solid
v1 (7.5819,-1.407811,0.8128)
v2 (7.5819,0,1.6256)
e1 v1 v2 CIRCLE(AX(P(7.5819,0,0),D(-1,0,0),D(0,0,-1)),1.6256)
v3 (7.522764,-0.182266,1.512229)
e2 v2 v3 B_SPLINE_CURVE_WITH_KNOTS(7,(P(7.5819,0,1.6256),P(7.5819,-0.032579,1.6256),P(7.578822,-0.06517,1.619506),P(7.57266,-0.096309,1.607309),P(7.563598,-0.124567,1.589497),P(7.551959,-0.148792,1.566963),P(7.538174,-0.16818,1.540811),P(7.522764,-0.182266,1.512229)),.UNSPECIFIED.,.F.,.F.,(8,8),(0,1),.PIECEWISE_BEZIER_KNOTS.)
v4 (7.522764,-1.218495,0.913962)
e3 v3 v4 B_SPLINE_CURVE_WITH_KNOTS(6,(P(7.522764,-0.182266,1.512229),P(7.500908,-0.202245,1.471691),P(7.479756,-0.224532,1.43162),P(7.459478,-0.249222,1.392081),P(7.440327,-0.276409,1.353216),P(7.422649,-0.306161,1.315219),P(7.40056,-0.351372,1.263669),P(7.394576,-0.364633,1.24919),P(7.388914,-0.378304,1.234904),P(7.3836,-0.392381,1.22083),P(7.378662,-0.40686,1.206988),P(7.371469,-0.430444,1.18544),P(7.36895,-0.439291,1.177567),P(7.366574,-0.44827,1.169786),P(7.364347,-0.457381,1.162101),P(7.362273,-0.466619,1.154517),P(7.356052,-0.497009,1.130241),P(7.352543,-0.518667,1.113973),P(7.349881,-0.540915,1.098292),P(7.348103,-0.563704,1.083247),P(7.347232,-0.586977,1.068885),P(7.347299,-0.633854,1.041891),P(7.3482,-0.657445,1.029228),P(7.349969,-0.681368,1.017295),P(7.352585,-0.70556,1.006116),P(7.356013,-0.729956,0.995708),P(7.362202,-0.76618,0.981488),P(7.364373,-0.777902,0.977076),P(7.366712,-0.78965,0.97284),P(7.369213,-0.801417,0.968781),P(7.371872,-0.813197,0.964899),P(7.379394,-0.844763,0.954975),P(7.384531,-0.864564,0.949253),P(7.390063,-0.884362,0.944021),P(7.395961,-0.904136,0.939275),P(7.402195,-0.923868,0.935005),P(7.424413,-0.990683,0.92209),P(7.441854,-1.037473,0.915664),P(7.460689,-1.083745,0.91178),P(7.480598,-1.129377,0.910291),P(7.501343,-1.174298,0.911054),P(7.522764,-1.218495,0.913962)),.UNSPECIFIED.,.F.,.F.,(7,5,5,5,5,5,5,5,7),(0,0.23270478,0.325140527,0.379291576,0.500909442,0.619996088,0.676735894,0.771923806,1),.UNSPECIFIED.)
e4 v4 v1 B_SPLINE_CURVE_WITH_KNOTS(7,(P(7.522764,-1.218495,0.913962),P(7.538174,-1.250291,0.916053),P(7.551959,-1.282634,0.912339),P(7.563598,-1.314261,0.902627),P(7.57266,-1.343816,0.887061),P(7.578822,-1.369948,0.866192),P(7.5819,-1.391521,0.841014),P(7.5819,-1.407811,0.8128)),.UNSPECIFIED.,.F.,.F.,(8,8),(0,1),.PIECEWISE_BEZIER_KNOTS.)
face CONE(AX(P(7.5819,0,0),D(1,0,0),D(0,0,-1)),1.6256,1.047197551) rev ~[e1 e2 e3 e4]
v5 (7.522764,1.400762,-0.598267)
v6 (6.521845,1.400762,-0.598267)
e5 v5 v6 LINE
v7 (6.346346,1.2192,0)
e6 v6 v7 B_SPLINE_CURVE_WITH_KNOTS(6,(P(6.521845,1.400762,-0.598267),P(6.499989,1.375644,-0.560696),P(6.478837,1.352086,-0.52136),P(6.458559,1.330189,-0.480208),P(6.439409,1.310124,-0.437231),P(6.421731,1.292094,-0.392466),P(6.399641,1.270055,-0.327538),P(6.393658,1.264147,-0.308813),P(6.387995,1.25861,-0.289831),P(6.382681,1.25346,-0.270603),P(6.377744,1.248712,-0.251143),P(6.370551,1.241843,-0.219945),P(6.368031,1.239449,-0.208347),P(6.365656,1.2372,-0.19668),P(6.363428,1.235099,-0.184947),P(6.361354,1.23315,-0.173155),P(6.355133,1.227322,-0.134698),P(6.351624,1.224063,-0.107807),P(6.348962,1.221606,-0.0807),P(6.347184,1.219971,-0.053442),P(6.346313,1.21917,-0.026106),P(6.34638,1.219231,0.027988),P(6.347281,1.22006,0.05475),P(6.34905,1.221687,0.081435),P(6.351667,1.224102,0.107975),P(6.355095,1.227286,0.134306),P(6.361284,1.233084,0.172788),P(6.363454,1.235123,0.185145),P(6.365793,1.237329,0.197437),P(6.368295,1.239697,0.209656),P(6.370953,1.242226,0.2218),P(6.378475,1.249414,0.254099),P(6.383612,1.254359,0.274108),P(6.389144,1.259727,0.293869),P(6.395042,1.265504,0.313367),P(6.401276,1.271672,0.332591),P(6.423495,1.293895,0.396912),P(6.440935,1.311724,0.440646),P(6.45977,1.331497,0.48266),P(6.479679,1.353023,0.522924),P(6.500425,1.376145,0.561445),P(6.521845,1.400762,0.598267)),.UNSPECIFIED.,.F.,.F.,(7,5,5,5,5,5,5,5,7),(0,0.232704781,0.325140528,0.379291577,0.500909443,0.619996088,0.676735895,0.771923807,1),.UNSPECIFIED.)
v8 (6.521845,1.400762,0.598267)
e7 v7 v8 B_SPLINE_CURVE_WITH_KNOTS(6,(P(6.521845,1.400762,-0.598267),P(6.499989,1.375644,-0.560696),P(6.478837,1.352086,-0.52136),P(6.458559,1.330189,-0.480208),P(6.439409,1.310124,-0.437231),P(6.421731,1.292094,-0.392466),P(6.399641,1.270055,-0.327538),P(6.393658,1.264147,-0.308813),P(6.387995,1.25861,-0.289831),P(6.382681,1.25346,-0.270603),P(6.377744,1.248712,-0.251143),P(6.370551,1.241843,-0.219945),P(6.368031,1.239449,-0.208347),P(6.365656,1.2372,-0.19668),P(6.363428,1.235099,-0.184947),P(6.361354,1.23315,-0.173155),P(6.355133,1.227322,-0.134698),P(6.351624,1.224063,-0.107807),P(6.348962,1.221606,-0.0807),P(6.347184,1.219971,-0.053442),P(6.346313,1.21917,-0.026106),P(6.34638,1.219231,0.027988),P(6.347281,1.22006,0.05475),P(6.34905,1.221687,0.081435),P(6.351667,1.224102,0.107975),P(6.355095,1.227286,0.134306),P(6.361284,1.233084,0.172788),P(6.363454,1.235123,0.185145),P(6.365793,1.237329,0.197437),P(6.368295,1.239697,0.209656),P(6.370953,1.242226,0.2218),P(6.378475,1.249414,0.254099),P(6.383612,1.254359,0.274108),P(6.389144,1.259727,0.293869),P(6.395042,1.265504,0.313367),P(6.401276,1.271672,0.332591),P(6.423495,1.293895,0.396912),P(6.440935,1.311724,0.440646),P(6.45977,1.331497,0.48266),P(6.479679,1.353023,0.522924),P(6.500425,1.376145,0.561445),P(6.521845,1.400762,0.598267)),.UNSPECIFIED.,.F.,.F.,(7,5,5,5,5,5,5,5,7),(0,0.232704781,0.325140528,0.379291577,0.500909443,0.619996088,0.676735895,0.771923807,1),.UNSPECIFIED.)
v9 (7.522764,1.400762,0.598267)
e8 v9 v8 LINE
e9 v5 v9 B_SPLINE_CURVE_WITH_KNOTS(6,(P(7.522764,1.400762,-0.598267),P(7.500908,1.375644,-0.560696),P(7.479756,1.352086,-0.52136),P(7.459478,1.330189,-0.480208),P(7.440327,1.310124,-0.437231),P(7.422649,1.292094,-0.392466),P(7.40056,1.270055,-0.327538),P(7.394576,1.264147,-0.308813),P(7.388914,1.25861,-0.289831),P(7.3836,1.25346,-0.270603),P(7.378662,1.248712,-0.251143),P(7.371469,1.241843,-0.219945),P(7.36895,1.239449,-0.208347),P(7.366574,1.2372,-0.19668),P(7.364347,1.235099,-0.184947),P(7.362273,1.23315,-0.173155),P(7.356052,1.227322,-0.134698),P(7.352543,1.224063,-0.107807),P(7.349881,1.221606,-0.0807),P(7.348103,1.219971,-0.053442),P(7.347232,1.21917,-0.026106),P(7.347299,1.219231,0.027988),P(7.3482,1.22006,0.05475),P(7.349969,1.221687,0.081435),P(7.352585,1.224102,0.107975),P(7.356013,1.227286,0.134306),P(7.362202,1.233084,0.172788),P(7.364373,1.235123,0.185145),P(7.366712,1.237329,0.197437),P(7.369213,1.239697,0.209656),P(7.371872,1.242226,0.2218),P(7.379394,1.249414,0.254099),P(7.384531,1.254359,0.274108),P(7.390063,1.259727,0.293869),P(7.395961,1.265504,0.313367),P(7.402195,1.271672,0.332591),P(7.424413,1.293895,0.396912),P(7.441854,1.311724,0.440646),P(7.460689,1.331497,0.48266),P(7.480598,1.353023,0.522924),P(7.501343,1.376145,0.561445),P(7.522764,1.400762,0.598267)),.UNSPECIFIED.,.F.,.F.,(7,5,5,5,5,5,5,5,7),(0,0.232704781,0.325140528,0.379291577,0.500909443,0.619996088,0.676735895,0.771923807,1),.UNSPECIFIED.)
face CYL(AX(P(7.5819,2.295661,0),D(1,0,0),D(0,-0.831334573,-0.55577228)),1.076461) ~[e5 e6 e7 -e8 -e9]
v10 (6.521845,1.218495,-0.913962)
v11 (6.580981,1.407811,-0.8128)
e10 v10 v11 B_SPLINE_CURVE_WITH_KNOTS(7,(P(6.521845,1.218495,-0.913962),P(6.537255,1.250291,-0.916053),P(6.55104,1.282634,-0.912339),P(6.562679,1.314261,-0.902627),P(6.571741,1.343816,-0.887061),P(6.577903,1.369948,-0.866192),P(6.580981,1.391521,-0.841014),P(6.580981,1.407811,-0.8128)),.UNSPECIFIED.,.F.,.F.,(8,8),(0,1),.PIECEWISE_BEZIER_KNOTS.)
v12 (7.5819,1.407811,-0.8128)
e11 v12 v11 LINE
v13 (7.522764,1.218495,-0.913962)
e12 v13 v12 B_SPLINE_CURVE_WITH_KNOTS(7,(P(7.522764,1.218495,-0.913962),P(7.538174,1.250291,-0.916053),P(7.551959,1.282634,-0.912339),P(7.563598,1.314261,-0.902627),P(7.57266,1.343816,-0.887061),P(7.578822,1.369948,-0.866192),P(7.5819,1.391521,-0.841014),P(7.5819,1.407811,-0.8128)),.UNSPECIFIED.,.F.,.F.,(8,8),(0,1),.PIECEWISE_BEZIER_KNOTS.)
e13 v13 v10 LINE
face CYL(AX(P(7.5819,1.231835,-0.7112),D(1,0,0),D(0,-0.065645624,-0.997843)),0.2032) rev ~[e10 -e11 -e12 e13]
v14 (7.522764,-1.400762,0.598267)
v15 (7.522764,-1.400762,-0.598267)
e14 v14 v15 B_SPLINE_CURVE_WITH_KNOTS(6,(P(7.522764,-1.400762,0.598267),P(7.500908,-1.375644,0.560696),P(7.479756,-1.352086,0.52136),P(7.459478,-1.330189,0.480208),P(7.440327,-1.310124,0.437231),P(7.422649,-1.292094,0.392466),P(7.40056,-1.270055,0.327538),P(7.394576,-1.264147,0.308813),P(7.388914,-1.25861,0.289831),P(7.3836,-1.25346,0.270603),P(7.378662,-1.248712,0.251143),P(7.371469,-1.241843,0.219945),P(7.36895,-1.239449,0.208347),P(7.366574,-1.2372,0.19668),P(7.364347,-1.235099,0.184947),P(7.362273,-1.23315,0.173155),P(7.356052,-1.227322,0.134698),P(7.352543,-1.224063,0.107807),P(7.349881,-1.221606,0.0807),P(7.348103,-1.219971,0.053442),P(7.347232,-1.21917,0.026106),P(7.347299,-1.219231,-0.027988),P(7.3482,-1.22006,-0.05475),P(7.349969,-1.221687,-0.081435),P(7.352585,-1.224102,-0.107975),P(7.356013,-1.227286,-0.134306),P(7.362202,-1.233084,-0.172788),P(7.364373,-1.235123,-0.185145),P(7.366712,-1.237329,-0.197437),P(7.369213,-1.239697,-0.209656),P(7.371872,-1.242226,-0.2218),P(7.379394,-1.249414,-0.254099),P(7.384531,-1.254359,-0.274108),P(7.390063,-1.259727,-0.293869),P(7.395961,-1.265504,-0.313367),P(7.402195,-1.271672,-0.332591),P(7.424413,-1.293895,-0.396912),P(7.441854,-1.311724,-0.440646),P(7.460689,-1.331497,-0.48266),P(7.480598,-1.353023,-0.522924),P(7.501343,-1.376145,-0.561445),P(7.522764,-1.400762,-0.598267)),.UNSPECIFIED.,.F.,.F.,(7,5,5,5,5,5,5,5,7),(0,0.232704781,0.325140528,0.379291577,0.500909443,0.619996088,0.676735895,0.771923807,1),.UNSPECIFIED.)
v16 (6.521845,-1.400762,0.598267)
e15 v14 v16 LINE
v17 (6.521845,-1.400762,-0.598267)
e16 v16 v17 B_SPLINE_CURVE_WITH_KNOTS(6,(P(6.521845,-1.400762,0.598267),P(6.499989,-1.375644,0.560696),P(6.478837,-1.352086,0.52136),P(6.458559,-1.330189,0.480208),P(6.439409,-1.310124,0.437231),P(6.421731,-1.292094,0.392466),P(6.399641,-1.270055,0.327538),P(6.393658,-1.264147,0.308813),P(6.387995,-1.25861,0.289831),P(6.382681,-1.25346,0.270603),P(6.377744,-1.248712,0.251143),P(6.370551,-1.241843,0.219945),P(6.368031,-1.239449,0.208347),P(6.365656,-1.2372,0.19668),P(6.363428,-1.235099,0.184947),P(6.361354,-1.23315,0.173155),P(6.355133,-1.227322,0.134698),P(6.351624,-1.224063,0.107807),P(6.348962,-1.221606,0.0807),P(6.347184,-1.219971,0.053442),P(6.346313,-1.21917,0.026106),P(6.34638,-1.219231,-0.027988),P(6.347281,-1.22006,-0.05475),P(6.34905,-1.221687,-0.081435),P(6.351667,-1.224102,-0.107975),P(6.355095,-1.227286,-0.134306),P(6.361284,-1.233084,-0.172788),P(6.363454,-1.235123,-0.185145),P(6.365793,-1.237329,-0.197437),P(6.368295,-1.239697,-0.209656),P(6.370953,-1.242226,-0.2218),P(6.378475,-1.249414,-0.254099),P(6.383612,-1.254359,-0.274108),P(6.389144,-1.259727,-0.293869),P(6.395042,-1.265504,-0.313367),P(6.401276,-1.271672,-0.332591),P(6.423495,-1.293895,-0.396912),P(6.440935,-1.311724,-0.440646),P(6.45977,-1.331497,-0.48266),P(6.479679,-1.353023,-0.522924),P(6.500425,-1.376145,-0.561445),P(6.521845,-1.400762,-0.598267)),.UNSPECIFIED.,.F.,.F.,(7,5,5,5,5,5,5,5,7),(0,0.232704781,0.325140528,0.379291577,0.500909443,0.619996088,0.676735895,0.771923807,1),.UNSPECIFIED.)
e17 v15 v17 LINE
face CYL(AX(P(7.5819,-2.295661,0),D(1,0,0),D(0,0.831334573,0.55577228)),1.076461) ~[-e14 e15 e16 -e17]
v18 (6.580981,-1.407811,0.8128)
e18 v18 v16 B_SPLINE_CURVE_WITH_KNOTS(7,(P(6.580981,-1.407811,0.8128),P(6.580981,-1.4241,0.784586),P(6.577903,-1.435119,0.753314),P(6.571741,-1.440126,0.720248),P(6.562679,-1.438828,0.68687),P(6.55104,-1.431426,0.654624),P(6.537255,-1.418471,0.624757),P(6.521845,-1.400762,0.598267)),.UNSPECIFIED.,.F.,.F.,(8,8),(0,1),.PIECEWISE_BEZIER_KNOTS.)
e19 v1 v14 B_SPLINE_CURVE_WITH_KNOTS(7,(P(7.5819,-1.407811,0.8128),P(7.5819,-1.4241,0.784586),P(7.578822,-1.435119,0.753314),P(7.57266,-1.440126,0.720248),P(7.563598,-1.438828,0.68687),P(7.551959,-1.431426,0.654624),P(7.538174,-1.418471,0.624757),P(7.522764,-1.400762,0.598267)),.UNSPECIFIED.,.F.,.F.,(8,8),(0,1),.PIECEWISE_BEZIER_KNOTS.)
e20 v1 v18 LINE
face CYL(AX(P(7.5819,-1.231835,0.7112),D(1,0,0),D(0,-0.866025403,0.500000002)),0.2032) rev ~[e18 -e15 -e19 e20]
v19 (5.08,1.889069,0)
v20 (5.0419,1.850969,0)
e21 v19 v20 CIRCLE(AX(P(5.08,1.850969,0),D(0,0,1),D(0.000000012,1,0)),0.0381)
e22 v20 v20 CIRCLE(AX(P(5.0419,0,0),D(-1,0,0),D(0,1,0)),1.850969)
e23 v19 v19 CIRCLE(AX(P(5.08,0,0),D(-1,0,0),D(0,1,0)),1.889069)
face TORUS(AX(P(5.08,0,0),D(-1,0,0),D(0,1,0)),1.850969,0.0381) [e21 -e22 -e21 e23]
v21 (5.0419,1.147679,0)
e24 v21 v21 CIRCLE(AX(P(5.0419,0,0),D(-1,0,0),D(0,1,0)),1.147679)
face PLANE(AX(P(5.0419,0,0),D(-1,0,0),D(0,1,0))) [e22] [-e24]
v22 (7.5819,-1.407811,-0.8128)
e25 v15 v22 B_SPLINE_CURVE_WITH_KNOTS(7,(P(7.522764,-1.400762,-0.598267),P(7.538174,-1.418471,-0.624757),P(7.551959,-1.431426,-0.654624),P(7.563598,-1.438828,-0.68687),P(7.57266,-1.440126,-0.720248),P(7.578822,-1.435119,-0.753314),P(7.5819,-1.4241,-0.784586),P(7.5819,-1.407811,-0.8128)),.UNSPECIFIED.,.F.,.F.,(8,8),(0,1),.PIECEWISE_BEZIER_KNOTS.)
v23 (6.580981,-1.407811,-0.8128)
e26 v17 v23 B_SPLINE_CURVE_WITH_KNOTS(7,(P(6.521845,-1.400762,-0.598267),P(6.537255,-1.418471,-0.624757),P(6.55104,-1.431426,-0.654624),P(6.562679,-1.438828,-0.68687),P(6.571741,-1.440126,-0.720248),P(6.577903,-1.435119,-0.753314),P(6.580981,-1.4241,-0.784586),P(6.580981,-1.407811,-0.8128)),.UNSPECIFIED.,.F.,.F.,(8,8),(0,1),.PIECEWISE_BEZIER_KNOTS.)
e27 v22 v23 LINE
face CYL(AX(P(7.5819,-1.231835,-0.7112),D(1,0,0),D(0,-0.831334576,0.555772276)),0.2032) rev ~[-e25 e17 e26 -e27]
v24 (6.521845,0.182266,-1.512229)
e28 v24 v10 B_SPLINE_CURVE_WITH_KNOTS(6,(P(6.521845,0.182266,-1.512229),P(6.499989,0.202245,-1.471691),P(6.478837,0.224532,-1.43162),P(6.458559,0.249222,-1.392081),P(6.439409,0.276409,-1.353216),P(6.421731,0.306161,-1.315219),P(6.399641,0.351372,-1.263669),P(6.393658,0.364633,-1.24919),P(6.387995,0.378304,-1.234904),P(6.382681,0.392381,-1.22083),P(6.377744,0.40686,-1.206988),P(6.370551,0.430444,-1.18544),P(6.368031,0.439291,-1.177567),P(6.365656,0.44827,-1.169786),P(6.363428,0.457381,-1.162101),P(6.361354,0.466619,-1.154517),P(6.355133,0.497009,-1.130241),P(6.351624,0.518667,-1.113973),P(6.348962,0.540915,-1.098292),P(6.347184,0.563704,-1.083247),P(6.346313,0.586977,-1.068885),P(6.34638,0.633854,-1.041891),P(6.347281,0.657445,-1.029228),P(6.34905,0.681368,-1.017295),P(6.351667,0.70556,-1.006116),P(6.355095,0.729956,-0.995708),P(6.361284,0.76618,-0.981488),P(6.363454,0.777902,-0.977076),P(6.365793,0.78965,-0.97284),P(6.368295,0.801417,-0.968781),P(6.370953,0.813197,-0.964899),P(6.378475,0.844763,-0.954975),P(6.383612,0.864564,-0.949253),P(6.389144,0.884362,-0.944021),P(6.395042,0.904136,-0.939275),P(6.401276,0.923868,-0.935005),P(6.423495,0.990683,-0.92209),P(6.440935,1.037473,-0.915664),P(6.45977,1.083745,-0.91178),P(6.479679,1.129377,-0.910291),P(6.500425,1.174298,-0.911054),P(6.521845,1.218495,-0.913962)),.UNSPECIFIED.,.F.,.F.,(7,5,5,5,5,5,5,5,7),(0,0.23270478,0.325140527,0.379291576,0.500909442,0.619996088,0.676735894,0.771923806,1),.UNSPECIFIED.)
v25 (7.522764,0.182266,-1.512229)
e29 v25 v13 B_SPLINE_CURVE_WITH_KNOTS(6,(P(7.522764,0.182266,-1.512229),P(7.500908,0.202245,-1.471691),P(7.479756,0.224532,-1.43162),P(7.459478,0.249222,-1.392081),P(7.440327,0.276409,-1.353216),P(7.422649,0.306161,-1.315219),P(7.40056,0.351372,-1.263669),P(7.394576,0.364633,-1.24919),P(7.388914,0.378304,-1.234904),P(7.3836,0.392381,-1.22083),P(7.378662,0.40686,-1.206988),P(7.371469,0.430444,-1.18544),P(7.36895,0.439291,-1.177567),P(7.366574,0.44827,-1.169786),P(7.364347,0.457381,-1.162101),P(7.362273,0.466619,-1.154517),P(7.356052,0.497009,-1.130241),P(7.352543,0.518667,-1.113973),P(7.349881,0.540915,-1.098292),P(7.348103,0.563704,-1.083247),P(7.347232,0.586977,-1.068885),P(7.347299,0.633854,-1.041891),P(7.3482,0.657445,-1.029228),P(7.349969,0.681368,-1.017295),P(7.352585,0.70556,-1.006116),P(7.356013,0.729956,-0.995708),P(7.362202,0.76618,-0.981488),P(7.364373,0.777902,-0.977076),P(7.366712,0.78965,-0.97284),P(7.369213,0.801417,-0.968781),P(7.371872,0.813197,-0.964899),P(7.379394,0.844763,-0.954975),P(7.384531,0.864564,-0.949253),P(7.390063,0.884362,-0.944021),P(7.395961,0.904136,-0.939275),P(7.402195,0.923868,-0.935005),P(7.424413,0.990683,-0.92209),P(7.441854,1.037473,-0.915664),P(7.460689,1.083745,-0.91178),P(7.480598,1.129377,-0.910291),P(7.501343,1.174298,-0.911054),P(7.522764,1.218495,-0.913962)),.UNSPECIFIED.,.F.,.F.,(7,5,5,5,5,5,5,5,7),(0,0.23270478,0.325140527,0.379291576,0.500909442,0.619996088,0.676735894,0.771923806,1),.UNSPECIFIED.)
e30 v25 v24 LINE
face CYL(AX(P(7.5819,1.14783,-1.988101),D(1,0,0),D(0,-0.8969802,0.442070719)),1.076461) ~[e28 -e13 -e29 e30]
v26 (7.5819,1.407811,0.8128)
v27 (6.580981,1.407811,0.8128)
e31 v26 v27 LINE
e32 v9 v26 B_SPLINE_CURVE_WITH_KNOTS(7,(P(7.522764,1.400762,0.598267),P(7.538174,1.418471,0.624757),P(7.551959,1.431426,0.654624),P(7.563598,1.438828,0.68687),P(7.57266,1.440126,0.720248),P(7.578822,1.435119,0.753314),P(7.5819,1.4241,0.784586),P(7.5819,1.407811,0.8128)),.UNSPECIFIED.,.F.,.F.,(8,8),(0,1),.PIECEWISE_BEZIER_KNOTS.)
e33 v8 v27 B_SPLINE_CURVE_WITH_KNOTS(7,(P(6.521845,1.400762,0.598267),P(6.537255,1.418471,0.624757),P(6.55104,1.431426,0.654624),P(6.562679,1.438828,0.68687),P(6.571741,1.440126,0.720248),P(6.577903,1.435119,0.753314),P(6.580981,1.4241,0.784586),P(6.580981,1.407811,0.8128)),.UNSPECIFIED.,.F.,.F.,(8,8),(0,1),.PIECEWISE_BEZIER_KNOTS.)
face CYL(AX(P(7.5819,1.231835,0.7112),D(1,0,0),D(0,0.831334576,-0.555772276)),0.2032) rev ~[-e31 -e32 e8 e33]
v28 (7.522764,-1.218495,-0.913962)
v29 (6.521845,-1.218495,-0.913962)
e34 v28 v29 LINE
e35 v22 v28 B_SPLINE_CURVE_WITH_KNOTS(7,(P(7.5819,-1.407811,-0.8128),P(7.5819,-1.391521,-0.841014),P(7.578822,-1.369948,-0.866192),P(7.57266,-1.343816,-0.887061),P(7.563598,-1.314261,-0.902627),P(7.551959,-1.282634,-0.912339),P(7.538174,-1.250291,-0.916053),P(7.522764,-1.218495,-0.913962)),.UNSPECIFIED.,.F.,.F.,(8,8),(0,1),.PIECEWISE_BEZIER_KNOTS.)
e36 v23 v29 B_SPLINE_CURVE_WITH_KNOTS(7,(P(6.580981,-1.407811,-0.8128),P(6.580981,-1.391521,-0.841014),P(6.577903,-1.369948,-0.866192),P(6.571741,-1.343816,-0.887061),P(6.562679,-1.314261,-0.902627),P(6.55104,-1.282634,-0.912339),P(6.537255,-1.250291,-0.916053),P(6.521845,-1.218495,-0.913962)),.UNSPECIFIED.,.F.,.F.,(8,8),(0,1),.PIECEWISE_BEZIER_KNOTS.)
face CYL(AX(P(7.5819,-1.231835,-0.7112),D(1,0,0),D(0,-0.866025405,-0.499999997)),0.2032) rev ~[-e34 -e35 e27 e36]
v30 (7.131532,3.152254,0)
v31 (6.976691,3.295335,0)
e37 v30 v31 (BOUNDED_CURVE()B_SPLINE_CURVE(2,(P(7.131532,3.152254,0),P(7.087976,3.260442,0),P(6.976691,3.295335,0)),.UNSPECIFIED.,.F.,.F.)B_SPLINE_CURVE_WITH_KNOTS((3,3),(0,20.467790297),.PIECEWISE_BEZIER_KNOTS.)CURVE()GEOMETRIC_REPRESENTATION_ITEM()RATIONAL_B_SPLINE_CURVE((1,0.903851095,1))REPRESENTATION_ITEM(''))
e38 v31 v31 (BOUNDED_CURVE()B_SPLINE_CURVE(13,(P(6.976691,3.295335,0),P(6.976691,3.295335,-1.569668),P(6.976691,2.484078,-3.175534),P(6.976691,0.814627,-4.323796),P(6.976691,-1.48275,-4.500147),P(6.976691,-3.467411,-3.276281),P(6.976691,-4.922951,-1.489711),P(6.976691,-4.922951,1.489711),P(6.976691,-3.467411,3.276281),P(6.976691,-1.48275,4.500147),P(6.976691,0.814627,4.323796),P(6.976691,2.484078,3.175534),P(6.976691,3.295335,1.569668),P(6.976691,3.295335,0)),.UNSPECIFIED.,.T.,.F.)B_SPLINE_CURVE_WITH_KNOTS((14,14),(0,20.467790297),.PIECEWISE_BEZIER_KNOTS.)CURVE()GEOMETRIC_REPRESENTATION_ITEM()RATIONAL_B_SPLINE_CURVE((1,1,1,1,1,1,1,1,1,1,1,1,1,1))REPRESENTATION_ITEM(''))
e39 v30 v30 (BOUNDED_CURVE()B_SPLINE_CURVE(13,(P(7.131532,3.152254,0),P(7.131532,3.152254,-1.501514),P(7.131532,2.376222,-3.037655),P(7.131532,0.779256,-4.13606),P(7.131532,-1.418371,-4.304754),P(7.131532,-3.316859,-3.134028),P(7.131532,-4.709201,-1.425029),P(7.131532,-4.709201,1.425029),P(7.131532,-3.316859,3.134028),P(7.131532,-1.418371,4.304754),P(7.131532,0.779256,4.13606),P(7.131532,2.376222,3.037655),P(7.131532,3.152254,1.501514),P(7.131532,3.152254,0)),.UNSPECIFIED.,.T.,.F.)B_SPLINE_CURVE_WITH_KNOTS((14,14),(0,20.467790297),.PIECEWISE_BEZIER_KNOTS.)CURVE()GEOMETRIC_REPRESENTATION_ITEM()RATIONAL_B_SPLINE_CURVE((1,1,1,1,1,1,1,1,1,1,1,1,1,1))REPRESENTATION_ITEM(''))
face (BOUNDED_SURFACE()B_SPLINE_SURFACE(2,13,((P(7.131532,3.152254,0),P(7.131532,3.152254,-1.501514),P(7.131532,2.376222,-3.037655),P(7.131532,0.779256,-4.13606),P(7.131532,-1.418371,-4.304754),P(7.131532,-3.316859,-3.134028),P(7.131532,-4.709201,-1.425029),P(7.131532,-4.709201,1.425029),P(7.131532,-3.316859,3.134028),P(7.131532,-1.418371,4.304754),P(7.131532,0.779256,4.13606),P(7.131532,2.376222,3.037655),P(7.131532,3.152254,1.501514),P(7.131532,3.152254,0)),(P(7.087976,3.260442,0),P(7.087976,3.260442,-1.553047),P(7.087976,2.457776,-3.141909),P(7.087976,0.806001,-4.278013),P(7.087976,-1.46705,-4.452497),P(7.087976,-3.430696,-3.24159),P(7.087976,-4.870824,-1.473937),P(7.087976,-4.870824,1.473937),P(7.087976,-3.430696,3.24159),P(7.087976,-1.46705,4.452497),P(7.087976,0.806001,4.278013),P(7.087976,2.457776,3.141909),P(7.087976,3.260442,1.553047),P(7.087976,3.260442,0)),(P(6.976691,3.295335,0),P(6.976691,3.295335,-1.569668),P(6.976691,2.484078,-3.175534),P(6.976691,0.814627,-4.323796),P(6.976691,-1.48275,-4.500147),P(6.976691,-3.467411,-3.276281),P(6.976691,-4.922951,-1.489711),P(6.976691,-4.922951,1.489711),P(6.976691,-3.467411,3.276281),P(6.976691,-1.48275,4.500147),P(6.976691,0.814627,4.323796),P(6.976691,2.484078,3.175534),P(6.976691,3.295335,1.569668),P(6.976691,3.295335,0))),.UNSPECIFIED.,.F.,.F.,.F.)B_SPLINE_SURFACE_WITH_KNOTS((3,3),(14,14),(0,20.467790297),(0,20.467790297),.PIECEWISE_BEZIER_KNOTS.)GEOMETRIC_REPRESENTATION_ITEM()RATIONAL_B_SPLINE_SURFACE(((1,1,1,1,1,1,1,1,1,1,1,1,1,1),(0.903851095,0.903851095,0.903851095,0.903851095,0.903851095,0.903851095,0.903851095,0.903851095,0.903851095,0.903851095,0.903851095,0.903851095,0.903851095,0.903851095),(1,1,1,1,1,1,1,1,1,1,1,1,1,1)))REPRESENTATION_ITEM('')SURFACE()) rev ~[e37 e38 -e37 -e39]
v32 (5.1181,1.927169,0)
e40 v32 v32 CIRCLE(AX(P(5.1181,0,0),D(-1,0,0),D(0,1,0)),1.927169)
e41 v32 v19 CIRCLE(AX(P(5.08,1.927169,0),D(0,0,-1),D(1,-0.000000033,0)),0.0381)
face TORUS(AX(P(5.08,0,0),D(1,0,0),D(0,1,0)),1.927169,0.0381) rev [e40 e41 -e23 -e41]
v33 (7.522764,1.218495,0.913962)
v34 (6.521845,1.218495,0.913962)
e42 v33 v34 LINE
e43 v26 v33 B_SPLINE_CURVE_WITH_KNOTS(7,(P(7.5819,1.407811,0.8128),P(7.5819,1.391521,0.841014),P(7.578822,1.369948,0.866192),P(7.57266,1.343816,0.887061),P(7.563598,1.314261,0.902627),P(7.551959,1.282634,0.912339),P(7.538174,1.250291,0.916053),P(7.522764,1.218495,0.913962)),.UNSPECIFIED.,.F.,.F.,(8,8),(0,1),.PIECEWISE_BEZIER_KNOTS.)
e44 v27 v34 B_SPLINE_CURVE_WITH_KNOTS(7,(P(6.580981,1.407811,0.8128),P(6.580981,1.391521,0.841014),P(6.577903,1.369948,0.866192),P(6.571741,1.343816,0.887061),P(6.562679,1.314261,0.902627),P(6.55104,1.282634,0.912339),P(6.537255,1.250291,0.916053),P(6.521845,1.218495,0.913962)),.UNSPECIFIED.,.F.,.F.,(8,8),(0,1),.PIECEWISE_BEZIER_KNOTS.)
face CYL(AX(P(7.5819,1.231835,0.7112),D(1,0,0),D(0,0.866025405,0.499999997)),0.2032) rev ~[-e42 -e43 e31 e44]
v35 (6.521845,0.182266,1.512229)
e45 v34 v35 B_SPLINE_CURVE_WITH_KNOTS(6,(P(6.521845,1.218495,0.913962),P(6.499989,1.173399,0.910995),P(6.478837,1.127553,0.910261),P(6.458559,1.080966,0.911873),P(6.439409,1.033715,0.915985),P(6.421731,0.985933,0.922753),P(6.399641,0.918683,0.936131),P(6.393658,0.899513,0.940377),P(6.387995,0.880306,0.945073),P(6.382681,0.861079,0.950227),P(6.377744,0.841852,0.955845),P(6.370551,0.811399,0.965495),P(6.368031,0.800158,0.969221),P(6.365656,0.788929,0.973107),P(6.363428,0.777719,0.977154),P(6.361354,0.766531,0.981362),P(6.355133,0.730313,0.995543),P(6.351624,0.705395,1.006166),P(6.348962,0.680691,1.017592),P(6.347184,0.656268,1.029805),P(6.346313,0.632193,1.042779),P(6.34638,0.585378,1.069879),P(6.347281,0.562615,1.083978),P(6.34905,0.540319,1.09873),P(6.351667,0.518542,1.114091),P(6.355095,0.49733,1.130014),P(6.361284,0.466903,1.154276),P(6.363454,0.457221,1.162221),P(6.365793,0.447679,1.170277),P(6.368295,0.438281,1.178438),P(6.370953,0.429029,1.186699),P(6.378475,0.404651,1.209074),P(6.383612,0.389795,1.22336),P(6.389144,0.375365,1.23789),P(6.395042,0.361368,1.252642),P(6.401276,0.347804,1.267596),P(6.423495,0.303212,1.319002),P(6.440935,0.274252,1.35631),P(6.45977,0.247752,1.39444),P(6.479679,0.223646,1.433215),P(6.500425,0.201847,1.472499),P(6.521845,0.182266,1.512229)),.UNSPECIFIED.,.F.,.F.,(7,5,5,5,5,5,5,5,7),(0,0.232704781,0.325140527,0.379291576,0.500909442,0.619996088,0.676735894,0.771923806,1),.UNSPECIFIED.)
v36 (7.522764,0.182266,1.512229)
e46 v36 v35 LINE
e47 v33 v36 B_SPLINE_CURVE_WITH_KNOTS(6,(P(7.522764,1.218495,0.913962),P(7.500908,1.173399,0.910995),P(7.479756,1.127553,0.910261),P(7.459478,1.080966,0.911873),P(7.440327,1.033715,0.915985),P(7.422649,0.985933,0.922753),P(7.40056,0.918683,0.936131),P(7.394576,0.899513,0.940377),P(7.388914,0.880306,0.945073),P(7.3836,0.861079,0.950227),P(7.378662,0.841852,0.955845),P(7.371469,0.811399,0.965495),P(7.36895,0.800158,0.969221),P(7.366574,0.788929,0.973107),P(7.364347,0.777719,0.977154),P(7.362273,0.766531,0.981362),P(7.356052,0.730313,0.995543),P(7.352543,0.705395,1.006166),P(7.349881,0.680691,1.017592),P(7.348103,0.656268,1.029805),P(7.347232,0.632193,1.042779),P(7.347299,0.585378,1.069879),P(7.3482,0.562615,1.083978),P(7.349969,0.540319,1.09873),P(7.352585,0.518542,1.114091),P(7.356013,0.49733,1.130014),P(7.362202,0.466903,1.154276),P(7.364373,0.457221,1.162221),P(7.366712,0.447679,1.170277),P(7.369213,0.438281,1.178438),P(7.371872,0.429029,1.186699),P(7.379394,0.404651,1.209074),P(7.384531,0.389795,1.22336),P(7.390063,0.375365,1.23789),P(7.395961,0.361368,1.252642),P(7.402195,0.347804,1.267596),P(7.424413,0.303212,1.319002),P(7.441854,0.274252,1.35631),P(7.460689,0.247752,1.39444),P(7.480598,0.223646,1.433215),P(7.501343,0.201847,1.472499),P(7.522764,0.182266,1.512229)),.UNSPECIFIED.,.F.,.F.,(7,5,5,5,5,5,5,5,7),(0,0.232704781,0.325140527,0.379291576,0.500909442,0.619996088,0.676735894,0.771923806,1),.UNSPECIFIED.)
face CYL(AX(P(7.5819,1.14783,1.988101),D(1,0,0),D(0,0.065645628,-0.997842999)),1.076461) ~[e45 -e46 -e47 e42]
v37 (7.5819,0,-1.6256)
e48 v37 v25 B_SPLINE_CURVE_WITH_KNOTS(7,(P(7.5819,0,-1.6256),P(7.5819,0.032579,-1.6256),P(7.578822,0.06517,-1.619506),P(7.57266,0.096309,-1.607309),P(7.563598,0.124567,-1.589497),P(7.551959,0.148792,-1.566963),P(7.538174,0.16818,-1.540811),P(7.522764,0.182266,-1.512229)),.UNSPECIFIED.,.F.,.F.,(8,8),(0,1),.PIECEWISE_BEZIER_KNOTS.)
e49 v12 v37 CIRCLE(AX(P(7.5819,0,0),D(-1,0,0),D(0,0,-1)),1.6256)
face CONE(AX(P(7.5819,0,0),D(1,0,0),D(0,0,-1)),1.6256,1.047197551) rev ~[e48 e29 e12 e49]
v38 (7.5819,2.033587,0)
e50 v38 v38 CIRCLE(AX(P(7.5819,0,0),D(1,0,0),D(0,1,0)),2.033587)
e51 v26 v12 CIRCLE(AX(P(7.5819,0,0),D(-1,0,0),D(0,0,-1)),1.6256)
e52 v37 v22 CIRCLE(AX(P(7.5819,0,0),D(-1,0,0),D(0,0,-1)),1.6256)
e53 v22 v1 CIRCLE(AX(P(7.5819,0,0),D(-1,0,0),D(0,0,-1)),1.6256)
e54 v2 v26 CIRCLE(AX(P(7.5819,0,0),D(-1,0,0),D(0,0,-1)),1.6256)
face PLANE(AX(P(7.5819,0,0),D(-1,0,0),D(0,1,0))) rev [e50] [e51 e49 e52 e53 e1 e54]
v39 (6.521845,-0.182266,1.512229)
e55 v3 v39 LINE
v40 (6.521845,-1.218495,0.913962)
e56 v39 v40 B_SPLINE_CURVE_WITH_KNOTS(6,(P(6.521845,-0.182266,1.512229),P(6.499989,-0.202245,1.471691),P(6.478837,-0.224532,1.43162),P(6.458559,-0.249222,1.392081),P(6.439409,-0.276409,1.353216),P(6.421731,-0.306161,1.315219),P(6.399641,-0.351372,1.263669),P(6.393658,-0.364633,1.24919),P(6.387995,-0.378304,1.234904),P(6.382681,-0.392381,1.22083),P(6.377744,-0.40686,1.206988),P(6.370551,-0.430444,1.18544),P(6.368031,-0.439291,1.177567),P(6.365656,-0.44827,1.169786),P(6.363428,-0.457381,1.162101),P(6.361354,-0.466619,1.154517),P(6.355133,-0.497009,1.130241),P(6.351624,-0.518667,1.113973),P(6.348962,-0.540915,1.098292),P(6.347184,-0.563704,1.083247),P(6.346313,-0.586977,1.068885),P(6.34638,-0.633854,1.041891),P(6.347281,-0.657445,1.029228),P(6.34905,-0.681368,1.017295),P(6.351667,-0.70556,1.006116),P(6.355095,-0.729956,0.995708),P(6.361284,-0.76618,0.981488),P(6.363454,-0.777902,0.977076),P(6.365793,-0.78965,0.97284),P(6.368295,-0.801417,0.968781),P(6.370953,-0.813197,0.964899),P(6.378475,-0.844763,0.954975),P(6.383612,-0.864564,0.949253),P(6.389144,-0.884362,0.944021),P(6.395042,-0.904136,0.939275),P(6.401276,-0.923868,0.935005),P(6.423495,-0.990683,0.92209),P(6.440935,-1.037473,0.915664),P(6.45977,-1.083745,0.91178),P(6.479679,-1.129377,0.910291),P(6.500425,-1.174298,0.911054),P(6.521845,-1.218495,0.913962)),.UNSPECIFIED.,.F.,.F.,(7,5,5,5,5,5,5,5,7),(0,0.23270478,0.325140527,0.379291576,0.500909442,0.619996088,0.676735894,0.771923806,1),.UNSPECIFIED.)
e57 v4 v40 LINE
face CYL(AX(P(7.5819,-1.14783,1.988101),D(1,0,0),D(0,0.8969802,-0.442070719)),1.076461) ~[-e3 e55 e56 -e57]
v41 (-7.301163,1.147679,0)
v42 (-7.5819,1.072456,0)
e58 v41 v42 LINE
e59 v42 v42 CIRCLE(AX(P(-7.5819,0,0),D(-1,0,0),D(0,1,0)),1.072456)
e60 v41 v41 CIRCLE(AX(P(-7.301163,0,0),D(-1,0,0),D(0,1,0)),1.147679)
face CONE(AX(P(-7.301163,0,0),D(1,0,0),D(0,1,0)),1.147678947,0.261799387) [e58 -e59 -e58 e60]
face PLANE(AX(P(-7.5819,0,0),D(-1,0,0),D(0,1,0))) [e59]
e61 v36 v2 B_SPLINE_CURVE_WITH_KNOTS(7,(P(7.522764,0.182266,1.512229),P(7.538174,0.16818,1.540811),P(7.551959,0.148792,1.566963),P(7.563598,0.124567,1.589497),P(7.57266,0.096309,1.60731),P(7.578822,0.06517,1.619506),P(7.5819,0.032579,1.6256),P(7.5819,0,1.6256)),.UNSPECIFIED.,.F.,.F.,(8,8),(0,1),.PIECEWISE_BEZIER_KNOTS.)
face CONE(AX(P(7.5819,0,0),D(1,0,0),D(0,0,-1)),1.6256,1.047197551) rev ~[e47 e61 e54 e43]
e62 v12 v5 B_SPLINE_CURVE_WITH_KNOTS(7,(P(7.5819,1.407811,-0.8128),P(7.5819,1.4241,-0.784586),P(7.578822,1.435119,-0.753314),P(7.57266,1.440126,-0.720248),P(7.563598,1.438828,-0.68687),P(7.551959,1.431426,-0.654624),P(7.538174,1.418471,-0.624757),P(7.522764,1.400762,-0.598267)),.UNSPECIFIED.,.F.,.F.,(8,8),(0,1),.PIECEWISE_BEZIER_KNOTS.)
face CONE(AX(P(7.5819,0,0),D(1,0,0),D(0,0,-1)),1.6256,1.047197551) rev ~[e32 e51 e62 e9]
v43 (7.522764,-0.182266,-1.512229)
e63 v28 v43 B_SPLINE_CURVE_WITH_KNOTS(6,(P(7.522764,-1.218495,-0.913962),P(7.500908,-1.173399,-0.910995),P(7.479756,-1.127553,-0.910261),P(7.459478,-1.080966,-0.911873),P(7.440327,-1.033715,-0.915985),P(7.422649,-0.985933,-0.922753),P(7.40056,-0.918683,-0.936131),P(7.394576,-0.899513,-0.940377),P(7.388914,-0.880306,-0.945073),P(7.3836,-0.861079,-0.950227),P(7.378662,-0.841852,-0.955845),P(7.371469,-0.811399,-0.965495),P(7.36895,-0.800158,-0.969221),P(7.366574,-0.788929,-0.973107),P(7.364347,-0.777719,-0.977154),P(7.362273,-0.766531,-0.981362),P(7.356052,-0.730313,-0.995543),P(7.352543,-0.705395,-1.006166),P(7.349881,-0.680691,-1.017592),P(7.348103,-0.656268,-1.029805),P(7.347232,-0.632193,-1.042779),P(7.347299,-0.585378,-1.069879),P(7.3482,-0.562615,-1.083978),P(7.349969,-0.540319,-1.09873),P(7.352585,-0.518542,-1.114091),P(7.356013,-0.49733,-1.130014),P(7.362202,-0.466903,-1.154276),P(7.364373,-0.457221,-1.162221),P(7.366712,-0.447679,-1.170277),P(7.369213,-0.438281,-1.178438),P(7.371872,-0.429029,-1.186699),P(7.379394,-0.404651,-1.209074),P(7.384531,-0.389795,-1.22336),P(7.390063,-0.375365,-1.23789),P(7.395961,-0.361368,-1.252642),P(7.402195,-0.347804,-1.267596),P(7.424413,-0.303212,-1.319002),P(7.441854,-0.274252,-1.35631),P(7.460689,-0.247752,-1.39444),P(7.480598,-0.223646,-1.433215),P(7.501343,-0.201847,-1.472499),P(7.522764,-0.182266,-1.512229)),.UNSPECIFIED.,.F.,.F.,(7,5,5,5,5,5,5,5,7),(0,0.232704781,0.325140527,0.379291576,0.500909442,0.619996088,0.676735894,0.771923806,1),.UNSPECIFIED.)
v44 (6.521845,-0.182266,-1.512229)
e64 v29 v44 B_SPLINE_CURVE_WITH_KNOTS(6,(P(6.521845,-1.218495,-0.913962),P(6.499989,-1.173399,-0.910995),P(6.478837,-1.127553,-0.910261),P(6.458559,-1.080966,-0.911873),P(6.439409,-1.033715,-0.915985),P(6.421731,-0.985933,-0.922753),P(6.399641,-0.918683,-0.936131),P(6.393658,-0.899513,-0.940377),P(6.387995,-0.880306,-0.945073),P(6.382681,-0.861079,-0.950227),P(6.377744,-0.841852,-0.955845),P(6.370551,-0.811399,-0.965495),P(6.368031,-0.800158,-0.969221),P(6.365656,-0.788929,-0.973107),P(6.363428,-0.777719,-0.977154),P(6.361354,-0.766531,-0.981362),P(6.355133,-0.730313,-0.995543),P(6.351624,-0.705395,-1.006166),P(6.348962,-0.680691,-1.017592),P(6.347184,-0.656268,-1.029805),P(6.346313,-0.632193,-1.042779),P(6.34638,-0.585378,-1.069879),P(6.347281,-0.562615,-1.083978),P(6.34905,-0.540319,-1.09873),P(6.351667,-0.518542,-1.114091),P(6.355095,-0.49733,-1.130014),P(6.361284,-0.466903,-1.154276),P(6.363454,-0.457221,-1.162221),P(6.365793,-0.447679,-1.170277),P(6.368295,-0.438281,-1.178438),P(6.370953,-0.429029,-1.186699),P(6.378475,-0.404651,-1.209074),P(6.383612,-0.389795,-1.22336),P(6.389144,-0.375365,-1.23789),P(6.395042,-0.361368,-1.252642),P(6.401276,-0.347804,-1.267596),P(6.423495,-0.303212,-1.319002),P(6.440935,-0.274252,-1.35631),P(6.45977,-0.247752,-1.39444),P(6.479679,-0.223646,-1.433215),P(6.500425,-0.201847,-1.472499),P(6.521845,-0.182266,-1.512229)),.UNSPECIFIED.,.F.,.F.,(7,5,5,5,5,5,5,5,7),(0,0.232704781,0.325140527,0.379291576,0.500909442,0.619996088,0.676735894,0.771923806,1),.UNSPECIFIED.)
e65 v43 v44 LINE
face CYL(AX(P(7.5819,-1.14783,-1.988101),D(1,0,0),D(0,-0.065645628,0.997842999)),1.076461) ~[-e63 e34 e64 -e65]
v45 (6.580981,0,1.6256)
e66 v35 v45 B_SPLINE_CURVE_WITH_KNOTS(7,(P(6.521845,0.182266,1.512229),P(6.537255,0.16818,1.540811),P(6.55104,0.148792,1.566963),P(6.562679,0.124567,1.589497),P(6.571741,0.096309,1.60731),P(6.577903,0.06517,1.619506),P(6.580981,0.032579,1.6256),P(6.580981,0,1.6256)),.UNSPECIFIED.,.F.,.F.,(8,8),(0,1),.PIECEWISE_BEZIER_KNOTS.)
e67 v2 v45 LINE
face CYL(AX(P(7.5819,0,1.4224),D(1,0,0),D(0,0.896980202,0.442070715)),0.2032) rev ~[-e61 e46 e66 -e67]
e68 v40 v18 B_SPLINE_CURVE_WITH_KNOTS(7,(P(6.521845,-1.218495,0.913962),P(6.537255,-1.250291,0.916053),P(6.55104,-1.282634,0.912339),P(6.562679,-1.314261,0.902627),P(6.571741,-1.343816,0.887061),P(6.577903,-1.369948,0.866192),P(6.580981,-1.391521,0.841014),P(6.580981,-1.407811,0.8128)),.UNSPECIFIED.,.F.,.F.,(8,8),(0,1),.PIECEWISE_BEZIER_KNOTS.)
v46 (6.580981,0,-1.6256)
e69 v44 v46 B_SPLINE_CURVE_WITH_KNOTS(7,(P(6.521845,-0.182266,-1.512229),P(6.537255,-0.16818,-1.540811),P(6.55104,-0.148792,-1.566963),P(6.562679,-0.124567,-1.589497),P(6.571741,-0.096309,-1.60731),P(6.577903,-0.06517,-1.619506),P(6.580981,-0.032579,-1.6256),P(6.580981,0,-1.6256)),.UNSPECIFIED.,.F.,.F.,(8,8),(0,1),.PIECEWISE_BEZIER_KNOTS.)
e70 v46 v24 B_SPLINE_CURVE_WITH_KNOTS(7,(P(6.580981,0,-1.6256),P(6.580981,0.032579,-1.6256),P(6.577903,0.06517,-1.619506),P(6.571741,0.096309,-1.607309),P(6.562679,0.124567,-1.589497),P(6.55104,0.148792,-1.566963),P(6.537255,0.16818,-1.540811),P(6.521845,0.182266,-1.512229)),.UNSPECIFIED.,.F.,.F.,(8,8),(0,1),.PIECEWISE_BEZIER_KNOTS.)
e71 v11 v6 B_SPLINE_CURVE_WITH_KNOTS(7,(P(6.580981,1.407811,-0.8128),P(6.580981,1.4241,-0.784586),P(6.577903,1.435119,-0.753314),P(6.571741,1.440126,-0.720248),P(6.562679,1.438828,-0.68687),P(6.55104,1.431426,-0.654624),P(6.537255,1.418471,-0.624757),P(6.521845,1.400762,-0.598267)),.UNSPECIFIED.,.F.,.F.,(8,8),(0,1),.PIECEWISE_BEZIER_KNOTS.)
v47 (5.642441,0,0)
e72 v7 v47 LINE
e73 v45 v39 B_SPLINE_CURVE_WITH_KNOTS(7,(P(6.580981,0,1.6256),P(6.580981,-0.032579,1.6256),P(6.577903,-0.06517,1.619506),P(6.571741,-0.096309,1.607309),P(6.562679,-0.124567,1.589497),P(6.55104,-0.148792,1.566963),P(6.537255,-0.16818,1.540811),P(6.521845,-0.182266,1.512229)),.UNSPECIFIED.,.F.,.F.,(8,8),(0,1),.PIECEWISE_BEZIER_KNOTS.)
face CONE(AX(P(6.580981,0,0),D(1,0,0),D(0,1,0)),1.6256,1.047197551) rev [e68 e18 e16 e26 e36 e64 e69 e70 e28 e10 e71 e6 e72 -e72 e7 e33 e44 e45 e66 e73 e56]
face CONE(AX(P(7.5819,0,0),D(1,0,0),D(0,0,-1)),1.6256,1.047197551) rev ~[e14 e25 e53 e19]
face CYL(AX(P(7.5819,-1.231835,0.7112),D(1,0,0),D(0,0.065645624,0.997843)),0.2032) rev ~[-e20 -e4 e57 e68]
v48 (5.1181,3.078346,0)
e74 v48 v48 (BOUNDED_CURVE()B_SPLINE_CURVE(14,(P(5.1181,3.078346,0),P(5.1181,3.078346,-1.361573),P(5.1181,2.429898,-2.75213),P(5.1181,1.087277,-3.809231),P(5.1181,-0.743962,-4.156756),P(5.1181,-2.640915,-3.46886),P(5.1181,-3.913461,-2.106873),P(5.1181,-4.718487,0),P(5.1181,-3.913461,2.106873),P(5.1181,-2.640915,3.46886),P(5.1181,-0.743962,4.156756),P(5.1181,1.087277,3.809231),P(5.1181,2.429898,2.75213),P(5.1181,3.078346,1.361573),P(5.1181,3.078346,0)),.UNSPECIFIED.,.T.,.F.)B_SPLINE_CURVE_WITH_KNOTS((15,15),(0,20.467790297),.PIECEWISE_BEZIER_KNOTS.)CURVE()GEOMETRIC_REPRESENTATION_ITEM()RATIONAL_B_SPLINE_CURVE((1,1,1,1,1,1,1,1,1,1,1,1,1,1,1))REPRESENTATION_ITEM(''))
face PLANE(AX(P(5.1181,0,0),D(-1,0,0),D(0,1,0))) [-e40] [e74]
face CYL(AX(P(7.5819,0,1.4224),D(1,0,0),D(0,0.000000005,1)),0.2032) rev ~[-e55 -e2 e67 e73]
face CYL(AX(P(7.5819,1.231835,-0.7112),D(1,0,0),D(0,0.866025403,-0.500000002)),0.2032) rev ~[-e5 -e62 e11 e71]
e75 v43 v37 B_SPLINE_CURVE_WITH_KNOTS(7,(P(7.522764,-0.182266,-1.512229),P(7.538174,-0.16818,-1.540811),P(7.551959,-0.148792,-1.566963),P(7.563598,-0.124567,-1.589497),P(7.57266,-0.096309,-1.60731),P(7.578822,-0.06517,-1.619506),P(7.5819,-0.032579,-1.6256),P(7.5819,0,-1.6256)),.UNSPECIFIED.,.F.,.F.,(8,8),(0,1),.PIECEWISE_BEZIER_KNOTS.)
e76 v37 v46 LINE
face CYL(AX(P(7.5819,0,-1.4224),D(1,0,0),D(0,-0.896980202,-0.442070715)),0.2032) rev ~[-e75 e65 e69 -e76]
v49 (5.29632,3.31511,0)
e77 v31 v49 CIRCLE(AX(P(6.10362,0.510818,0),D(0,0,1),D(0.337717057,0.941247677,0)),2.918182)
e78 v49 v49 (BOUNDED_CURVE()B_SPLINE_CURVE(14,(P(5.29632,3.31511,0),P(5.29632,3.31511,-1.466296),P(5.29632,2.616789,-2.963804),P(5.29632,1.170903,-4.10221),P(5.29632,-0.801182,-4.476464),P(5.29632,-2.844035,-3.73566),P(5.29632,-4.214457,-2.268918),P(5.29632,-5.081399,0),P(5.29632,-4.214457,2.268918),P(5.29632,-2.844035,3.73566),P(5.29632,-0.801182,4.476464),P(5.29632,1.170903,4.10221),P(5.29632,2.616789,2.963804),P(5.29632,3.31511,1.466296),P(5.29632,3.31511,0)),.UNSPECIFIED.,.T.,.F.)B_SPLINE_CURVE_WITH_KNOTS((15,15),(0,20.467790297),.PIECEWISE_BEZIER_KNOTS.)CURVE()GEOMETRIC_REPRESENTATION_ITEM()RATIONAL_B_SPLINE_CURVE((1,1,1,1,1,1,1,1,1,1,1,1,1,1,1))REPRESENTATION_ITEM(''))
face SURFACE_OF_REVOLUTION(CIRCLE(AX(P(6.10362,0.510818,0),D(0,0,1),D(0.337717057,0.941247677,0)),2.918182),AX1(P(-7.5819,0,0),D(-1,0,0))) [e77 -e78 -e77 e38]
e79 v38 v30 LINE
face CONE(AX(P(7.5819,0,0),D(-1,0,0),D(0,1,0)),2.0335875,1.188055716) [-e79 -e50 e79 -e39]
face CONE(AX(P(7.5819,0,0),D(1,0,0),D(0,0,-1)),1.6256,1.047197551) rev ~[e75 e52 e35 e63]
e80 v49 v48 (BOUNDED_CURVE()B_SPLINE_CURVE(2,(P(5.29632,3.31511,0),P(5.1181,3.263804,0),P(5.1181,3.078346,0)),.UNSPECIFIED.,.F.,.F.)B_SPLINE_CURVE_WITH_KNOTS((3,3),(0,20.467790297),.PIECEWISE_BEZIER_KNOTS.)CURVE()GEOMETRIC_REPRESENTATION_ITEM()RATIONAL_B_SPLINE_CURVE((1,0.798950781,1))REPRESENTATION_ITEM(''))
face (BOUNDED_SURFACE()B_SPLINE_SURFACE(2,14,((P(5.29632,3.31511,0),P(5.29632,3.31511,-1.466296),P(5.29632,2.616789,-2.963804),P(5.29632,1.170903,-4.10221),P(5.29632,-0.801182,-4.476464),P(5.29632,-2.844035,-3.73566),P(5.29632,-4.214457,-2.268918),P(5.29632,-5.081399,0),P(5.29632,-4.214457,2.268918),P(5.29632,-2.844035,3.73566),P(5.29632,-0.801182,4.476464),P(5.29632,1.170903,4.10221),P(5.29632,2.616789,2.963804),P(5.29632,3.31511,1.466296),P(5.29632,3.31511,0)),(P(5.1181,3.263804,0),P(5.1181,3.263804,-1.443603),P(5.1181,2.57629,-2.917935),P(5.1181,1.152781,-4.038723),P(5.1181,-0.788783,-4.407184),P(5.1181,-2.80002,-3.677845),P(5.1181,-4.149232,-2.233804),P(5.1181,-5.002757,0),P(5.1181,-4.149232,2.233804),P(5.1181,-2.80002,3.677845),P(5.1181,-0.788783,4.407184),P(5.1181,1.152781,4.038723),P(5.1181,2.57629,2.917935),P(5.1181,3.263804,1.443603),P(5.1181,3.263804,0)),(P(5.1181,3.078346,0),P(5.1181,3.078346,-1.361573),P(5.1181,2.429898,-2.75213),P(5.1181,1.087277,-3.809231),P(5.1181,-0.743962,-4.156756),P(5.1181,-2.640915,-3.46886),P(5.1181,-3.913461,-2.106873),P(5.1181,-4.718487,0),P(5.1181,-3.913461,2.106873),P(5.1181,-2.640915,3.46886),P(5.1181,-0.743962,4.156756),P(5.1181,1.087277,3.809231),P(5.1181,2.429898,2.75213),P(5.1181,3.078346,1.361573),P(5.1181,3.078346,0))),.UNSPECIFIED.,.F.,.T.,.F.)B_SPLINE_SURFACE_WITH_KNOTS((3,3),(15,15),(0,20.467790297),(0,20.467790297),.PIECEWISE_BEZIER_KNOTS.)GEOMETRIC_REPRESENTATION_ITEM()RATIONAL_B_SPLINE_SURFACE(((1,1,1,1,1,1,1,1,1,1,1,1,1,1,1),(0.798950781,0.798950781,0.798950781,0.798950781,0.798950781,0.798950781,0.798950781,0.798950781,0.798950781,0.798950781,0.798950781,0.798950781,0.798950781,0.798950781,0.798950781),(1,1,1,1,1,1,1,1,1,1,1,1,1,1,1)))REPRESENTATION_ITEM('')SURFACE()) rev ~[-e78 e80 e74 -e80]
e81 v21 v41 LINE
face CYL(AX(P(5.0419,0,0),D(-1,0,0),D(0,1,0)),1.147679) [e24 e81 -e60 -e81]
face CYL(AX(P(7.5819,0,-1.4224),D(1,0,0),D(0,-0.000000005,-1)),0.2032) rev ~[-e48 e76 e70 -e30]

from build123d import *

# Parameters (mm, degrees)
BOSS_EXTRUDE1_REACH = 17.92
SKETCH3_R           = 2.0335875
FILLET1_R           = 0.24638
CHAMFER1_SIZE       = 0.280736842
CHAMFER1_SIZE2      = 0.07522321


with BuildPart() as part:
    # Sketch2 → Revolve1 (revolve)
    with BuildSketch(Plane.XY):
        with BuildLine():
            Line((-7.5819, 0), (7.5819, 0))
            Line((7.5819, 0), (7.5819, 2.0335875))
            Line((7.5819, 2.0335875), (7.08914, 3.25755))
            ThreePointArc((7.08914, 3.25755), (6.10362, 3.429), (5.1181, 3.25755))
            Line((5.1181, 3.25755), (5.1181, 1.927169298))
            ThreePointArc((5.1181, 1.927169298), (5.106940768, 1.90022853), (5.08, 1.889069298))
            ThreePointArc((5.08, 1.889069298), (5.053059232, 1.877910067), (5.0419, 1.850969298))
            Line((5.0419, 1.850969298), (5.0419, 1.147678947))
            Line((5.0419, 1.147678947), (-7.5819, 1.147678947))
            Line((-7.5819, 1.147678947), (-7.5819, 0))
        make_face()
    revolve(axis=Axis((-7.5819, 0, 0), (-1, 0, 0)))

    # Sketch12 → Cut-Revolve3 (revolve, cut)
    with BuildSketch(Plane.XY):
        Polygon((7.5819, 1.6256), (6.58098125, 1.6256), (5.642440652, 0), (7.5819, 0), align=None)
    revolve(axis=Axis((-7.5819, 0, 0), (1, 0, 0)), mode=Mode.SUBTRACT)

    # Boss-Extrude1: up to this cone (the profile starts inside it)
    boss_extrude1_end = Plane(origin=(7.5819, 0, 0), z_dir=(1, 0, 0)).offset(-1.939458348) * Cone(1.732e-06, 41.081996047, 23.718700477, align=(Align.CENTER, Align.CENTER, Align.MIN), mode=Mode.PRIVATE)
    # Sketch3 → Boss-Extrude1 (add, up to the surface)
    with BuildSketch(Plane(origin=(7.5819, 0, 0), x_dir=(0, 0, -1), z_dir=(1, 0, 0)), mode=Mode.PRIVATE) as boss_extrude1_sk1:
        Circle(SKETCH3_R)
        with BuildLine():
            ThreePointArc((1.51222877, -0.182266377), (1.594944844, -0.107324354), (1.6256, 0))
            ThreePointArc((1.6256, 0), (1.594944844, 0.107324354), (1.51222877, 0.182266377))
            ThreePointArc((1.51222877, 0.182266377), (1.055858172, 0.6096), (0.913961698, 1.218495343))
            ThreePointArc((0.913961698, 1.218495343), (0.890418039, 1.327600575), (0.8128, 1.407810896))
            ThreePointArc((0.8128, 1.407810896), (0.704526805, 1.434924929), (0.598267073, 1.40076172))
            ThreePointArc((0.598267073, 1.40076172), (0, 1.2192), (-0.598267073, 1.40076172))
            ThreePointArc((-0.598267073, 1.40076172), (-0.704526805, 1.434924929), (-0.8128, 1.407810896))
            ThreePointArc((-0.8128, 1.407810896), (-0.890418039, 1.327600575), (-0.913961698, 1.218495343))
            ThreePointArc((-0.913961698, 1.218495343), (-1.055858172, 0.6096), (-1.51222877, 0.182266377))
            ThreePointArc((-1.51222877, 0.182266377), (-1.594944844, 0.107324354), (-1.6256, 0))
            ThreePointArc((-1.6256, 0), (-1.594944844, -0.107324354), (-1.51222877, -0.182266377))
            ThreePointArc((-1.51222877, -0.182266377), (-1.055858172, -0.6096), (-0.913961698, -1.218495343))
            ThreePointArc((-0.913961698, -1.218495343), (-0.890418039, -1.327600575), (-0.8128, -1.407810896))
            ThreePointArc((-0.8128, -1.407810896), (-0.704526805, -1.434924929), (-0.598267073, -1.40076172))
            ThreePointArc((-0.598267073, -1.40076172), (0, -1.2192), (0.598267073, -1.40076172))
            ThreePointArc((0.598267073, -1.40076172), (0.704526805, -1.434924929), (0.8128, -1.407810896))
            ThreePointArc((0.8128, -1.407810896), (0.890418039, -1.327600575), (0.913961698, -1.218495343))
            ThreePointArc((0.913961698, -1.218495343), (1.055858172, -0.6096), (1.51222877, -0.182266377))
        make_face(mode=Mode.SUBTRACT)
    boss_extrude1_tool1 = extrude(boss_extrude1_sk1.sketch, amount=-BOSS_EXTRUDE1_REACH, mode=Mode.PRIVATE) & boss_extrude1_end
    add(boss_extrude1_tool1.solids().sort_by_distance((7.5819, 0, 1.976069))[0])

    # Cut-Extrude2 cone 1 section (through the dimple's axis) → Cut-Extrude2 (revolve, cut)
    with BuildSketch(Plane(origin=(7.5819, 0, 0), x_dir=(0, 0, -1), z_dir=(0, 1, 0))):
        Polygon((0, 0), (1.6256, 0), (0, 0.938540598), align=None)
    revolve(axis=Axis((7.5819, 0, 0), (-1, 0, 0)), mode=Mode.SUBTRACT)

    # Fillet1
    fillet1_edges = [part.edges().sort_by_distance(p)[0] for p in [
        (5.1181, -3.25755, 0),
        (7.08914, -3.25755, 0),
    ]]
    fillet(fillet1_edges, radius=FILLET1_R)

    # Chamfer1
    chamfer1_edges = [part.edges().sort_by_distance(p)[0] for p in [
        (-7.5819, -1.147678947, 0),
    ]]
    chamfer1_side = [part.faces().sort_by_distance(p)[0] for p in [
        (-1.27, -1.147678947, 0),
    ]]
    chamfer(chamfer1_edges, length=CHAMFER1_SIZE, length2=CHAMFER1_SIZE2, reference=chamfer1_side[0])


solid = part.part
